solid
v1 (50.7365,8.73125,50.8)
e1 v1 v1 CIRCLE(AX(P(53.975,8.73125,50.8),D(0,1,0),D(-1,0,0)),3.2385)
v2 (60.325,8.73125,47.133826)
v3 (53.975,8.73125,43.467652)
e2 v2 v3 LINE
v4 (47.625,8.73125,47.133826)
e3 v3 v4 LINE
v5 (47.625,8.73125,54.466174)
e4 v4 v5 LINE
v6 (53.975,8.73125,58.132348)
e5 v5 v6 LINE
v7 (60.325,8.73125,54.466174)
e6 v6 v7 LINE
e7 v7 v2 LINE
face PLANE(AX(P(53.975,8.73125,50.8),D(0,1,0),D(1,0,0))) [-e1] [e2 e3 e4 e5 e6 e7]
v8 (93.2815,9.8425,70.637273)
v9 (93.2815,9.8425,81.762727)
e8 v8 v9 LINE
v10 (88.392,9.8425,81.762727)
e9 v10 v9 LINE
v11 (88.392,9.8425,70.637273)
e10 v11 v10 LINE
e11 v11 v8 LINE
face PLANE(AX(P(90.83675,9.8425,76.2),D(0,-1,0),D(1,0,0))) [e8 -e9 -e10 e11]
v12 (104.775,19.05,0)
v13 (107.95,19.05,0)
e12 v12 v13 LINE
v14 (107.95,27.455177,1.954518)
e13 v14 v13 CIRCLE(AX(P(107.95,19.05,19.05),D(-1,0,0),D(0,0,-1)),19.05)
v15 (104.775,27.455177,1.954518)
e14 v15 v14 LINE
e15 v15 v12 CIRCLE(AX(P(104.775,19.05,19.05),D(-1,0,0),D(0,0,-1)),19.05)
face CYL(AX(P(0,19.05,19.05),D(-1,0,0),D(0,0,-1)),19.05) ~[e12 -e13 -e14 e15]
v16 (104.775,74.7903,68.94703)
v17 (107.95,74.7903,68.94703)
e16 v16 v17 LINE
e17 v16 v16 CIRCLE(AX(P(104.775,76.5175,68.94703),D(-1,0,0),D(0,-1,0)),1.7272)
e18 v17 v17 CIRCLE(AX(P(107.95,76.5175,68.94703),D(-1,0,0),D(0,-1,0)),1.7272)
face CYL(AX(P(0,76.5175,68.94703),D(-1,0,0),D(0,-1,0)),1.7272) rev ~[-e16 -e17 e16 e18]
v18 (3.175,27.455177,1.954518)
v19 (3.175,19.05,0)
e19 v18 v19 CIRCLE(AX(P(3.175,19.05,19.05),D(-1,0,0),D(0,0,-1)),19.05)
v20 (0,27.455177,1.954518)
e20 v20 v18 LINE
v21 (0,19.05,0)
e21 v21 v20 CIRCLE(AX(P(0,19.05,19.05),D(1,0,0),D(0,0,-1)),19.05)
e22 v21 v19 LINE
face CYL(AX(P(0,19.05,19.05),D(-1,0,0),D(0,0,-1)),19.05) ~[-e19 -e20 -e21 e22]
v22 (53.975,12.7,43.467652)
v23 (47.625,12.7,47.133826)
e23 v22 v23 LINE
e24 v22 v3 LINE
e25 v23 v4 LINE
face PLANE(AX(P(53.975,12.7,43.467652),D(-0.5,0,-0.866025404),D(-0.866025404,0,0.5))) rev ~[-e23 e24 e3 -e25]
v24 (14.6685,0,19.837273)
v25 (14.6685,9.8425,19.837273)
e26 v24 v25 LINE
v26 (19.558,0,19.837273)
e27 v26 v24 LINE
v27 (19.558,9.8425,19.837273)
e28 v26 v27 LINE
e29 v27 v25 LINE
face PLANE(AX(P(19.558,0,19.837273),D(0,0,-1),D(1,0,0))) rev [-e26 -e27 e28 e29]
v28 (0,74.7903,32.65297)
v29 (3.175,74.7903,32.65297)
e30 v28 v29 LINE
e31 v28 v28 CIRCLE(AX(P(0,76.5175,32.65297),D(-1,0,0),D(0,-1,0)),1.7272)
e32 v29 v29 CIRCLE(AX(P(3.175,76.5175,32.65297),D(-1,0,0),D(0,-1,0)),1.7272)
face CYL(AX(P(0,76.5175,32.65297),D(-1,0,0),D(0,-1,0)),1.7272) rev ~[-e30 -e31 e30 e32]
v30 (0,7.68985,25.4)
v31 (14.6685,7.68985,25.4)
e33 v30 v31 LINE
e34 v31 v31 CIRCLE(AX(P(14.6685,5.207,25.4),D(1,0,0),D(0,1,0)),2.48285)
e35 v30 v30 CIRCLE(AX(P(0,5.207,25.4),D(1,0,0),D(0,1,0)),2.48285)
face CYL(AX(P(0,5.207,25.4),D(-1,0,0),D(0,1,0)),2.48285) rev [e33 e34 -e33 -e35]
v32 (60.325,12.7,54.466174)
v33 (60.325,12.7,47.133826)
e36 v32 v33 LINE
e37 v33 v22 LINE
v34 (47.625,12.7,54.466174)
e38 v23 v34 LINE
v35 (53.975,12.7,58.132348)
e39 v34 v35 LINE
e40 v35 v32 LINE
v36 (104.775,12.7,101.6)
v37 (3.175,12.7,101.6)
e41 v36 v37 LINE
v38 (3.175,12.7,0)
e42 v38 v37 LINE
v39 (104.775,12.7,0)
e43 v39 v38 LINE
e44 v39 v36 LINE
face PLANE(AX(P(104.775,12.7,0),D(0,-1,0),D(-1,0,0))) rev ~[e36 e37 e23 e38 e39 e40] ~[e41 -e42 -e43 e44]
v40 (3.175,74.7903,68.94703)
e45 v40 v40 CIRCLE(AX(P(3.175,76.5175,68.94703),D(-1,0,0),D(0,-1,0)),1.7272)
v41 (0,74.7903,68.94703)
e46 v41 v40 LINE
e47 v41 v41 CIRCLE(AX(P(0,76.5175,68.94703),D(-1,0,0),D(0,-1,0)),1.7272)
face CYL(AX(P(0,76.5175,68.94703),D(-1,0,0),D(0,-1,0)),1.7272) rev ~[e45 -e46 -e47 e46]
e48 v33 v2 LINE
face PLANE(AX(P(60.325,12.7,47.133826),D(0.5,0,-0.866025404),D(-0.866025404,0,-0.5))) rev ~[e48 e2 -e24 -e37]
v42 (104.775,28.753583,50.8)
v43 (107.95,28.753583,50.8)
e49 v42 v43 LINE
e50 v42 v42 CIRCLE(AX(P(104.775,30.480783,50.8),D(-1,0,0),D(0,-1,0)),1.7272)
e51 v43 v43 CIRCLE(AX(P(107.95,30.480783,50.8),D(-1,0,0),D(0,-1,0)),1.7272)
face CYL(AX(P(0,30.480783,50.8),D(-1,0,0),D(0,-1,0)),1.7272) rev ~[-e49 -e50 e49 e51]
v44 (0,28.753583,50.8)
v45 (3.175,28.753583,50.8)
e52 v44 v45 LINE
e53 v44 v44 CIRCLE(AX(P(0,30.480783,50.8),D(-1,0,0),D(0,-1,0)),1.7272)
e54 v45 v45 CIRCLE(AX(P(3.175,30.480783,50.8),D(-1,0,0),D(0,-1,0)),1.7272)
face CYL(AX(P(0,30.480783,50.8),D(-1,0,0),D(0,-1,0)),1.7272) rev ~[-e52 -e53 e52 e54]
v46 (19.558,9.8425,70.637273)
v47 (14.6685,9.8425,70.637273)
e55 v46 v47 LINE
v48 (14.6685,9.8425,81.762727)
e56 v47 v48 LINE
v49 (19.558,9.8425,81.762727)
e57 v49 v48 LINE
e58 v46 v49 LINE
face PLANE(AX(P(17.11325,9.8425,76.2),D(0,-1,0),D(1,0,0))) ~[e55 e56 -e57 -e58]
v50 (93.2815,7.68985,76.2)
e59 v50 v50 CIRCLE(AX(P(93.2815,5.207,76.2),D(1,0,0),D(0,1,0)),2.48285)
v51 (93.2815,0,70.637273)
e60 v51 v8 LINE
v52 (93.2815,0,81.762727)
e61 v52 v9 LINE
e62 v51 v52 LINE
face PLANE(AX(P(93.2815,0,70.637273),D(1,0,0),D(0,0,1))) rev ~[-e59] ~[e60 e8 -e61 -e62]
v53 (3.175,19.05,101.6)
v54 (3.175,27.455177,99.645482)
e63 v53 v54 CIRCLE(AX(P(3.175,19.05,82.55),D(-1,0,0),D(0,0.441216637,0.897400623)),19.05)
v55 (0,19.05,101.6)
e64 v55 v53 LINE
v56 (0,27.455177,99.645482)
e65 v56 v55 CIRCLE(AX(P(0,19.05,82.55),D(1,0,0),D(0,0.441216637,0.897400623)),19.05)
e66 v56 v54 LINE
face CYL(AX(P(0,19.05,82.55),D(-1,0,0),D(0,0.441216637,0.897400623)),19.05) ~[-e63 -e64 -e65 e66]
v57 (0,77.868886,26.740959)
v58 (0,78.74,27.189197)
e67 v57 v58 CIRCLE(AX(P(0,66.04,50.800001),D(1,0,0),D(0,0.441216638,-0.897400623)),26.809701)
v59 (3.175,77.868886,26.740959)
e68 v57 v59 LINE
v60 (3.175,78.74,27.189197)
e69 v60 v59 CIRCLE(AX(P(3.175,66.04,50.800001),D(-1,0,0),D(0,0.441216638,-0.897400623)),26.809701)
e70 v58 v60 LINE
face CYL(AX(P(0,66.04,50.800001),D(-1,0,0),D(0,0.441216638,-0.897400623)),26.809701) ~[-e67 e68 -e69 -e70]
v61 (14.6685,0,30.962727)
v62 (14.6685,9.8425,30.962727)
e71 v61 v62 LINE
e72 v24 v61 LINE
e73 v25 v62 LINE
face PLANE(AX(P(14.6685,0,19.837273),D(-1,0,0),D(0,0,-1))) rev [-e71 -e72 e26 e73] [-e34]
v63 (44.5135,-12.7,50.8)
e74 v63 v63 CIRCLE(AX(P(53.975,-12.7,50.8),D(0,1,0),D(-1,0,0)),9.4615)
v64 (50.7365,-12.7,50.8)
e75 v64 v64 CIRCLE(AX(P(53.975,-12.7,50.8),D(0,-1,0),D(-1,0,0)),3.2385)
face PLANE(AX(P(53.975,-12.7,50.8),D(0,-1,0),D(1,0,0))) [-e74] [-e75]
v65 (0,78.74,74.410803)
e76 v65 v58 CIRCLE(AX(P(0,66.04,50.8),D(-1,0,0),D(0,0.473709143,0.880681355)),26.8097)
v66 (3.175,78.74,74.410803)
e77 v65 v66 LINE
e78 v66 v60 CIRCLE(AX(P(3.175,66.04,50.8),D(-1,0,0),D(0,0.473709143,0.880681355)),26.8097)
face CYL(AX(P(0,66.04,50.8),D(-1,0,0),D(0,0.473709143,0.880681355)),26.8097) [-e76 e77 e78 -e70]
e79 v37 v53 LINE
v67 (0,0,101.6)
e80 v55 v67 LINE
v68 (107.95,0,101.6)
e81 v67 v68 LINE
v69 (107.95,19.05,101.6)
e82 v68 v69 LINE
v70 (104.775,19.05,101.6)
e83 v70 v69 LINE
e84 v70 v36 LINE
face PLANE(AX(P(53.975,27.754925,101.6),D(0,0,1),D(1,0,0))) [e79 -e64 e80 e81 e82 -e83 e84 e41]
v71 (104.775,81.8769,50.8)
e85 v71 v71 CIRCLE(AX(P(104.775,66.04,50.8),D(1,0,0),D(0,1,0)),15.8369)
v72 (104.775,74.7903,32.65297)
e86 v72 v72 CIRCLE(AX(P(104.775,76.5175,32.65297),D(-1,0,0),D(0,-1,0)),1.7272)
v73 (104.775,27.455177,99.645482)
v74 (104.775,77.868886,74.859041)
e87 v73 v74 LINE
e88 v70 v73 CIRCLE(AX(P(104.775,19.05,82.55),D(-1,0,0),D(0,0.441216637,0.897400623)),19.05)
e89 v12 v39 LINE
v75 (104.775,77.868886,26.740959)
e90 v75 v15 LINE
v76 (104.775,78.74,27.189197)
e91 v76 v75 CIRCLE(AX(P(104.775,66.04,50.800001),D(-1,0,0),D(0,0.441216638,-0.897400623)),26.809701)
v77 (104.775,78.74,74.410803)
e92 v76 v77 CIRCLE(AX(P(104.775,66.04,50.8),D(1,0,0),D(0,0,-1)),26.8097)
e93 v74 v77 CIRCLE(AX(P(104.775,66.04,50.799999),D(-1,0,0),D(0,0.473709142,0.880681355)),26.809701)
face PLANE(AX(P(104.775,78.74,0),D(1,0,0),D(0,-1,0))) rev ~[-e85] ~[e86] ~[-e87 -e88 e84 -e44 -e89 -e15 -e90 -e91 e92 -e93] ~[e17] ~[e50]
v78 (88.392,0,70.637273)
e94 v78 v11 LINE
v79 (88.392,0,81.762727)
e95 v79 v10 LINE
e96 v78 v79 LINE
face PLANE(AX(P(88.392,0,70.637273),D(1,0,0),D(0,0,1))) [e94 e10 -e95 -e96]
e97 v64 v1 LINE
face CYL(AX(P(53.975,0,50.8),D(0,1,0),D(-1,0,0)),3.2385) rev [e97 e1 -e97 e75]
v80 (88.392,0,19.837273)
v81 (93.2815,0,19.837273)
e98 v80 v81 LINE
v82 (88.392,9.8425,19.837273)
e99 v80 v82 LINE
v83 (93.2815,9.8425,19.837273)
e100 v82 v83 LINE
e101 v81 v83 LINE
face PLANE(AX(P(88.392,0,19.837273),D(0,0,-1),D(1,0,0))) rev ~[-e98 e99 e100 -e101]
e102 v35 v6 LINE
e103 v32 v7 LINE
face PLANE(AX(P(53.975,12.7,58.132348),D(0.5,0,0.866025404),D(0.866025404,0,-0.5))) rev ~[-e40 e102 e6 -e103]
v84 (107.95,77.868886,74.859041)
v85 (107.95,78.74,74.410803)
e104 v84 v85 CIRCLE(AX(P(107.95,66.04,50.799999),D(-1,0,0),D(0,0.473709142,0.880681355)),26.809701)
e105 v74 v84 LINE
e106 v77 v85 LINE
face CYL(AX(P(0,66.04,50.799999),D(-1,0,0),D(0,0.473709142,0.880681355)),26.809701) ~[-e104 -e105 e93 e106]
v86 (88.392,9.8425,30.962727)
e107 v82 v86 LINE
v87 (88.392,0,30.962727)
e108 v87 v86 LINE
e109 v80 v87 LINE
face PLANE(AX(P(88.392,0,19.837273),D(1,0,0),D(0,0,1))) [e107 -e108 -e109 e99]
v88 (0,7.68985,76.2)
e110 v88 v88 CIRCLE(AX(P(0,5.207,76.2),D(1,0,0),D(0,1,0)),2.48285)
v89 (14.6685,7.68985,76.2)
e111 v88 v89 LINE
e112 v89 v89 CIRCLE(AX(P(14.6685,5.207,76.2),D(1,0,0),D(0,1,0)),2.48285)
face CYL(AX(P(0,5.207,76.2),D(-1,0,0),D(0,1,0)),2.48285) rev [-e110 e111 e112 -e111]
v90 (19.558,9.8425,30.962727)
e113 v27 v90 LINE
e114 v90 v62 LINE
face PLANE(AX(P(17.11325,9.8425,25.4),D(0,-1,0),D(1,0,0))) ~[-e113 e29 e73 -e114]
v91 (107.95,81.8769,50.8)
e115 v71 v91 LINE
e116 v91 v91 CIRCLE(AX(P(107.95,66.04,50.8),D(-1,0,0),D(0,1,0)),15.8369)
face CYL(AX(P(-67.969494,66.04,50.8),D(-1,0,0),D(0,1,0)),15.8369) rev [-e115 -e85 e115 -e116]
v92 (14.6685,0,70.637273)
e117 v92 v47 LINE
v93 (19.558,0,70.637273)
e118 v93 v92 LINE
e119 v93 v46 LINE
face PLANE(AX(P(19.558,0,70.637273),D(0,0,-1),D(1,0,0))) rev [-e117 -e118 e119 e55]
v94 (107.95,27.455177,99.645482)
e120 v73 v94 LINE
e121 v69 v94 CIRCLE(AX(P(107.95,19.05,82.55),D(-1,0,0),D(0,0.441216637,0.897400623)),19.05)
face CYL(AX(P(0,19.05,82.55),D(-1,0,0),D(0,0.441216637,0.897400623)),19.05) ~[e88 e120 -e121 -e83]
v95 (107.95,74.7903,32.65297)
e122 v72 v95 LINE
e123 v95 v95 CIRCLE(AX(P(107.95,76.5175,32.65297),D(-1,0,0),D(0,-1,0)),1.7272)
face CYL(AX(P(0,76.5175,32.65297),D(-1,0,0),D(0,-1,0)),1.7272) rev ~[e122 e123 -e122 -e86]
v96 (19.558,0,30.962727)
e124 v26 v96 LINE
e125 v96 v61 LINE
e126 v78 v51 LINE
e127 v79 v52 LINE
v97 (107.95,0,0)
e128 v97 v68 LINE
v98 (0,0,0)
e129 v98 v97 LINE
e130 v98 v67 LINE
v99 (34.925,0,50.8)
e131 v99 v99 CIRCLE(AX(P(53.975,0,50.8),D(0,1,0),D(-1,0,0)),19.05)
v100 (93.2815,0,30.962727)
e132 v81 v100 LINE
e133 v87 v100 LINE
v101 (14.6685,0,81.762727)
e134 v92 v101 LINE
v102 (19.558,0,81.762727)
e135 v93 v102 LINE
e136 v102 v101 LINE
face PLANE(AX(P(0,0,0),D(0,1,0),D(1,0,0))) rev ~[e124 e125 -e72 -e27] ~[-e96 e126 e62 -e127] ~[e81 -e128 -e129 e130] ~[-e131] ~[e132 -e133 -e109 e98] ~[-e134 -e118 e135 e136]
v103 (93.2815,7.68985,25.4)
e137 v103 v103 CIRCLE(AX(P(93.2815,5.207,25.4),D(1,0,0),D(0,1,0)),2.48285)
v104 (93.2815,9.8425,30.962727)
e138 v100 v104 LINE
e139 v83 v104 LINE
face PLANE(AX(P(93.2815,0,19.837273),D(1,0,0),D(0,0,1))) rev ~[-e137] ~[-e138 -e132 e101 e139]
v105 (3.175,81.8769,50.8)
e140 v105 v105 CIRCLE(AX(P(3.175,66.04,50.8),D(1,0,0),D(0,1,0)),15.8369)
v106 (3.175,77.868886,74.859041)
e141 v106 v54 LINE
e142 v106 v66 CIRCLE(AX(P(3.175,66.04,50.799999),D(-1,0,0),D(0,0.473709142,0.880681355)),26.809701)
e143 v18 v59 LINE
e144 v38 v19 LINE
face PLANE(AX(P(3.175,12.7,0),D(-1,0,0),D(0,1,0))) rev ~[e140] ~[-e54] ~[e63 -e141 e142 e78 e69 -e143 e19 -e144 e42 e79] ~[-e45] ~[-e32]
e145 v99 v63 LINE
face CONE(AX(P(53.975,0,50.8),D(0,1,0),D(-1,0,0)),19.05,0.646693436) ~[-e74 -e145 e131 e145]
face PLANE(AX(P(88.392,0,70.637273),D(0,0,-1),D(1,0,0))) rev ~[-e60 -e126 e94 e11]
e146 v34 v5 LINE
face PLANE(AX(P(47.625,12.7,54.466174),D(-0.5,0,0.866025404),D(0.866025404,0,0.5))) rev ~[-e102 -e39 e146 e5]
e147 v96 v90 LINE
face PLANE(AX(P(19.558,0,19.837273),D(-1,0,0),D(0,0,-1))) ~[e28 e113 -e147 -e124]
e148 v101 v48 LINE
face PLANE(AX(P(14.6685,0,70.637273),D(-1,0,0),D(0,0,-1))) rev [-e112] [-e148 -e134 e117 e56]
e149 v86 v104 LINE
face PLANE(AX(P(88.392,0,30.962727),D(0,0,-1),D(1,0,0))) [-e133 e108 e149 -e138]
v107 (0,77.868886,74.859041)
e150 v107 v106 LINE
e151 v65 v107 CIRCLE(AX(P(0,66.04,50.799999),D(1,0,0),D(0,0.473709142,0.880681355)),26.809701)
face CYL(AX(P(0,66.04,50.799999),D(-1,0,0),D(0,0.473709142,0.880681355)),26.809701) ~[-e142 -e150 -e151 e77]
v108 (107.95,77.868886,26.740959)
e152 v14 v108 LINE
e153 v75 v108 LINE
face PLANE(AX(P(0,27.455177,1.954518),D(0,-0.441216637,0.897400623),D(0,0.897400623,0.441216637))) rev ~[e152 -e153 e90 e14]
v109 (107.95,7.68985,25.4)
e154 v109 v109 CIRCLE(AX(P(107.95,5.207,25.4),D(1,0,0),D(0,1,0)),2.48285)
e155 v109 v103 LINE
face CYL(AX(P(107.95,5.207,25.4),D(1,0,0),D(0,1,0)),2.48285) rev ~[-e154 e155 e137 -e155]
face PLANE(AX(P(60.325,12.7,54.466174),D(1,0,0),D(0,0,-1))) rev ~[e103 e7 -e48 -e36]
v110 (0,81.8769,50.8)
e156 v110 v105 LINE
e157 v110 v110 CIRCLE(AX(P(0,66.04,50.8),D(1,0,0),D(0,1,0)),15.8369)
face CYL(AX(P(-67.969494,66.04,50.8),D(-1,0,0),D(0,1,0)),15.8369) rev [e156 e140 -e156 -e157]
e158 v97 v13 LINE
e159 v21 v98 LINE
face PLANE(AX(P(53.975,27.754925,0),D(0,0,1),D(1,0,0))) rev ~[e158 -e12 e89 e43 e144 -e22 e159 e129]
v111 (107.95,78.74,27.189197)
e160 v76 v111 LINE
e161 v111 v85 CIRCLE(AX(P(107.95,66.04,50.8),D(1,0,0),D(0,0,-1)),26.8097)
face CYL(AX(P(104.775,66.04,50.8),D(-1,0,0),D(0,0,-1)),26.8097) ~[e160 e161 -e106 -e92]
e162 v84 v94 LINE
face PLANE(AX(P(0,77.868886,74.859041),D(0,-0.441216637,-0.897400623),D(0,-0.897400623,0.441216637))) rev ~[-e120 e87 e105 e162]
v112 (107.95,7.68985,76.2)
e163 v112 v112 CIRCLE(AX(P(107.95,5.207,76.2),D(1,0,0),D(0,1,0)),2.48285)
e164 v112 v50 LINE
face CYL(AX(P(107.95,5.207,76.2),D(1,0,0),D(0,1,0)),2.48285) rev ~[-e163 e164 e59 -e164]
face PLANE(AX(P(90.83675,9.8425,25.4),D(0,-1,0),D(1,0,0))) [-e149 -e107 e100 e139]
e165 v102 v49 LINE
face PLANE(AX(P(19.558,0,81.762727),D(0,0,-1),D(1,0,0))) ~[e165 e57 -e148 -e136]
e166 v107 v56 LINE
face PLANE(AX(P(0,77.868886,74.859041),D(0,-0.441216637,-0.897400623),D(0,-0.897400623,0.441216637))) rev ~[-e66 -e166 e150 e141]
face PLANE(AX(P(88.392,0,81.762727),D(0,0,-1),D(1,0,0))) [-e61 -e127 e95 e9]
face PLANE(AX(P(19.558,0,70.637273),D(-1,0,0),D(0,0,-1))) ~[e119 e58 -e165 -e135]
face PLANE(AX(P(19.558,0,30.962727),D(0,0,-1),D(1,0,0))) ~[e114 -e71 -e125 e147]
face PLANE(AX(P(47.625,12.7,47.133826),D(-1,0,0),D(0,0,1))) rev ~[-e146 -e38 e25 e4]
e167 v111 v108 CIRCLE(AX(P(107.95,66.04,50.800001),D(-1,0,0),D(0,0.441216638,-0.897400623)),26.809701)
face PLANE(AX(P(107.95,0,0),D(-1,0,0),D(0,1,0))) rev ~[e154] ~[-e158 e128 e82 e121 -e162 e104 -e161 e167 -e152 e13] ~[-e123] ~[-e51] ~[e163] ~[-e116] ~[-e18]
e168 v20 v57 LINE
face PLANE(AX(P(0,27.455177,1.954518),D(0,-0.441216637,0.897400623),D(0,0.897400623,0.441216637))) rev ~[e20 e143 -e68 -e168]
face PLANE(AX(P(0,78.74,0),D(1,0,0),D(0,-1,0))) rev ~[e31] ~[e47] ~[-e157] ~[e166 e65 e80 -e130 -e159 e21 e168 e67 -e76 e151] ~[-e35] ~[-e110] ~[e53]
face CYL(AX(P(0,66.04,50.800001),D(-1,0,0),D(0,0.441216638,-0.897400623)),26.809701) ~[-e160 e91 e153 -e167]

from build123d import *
from build123d.topology import SkipClean

# Parameters (mm, degrees)
BOSS_EXTRUDE1_DEPTH               = 101.6
SKETCH3_R                         = 5.87375
CUT_EXTRUDE1_DEPTH                = 168.856337682
BOSS_EXTRUDE3_DEPTH               = 3.175
CUT_EXTRUDE2_DEPTH                = 3.96875
SKETCH5_R                         = 3.2385
CUT_EXTRUDE3_DEPTH                = 171.445522471
BOSS_EXTRUDE4_START               = -3.175
SKETCH7_R                         = 26.8097
SKETCH7_R_2                       = 5.87375
BOSS_EXTRUDE4_DEPTH               = 3.175
SKETCH6_R                         = 1.7272
CUT_EXTRUDE4_DEPTH                = 175.91949374
SKETCH8_W                         = 12.7
SKETCH8_H                         = 12.7
SKETCH8_R                         = 3.2385
BOSS_EXTRUDE5_DEPTH               = 12.7
CUT_EXTRUDE5_DEPTH                = 175.91949374
CUT_EXTRUDE5_DEPTH_BACK           = 175.91949374
SKETCH10_R                        = 15.8369
SKETCH13_W                        = 4.8895
SKETCH13_H                        = 11.125454
CUT_EXTRUDE7_DEPTH                = 9.8425
F_10_0_1935_DIAMETER_HOLE1_REACH  = 160.559
F_10_0_1935_DIAMETER_HOLE1_BORE_R = 2.48285


with BuildPart() as part:
    # Sketch2 → Boss-Extrude1 (new body)
    with BuildSketch(Plane.XY):
        Polygon((0, 78.74), (0, 0), (107.95, 0), (107.95, 78.74), (104.775, 78.74), (104.775, 12.7), (3.175, 12.7), (3.175, 78.74), align=None)
    extrude(amount=BOSS_EXTRUDE1_DEPTH)

    # Sketch3 → Cut-Extrude1 (cut, through all)
    with BuildSketch(Plane.ZY):
        with BuildLine():
            ThreePointArc((0, 19.05), (0.495062251, 23.364717272), (1.954518124, 27.455176943))
            Line((1.954518124, 27.455176943), (26.740958507, 77.868885684))
            ThreePointArc((26.740958507, 77.868885684), (26.961098465, 78.306490439), (27.189197089, 78.74))
            Line((27.189197089, 78.74), (0, 78.74))
            Line((0, 78.74), (0, 19.05))
        make_face()
        with BuildLine():
            Line((101.6, 78.74), (74.410802911, 78.74))
            ThreePointArc((74.410802911, 78.74), (74.638901535, 78.306490439), (74.859041493, 77.868885684))
            Line((74.859041493, 77.868885684), (99.645481876, 27.455176943))
            ThreePointArc((99.645481876, 27.455176943), (101.104937749, 23.364717272), (101.6, 19.05))
            Line((101.6, 19.05), (101.6, 78.74))
        make_face()
        with Locations(Location((50.8, 66.04, 0), (0, 0, 270))):
            Circle(SKETCH3_R)
    extrude(amount=-CUT_EXTRUDE1_DEPTH, mode=Mode.SUBTRACT)

    # Sketch3<4> → Boss-Extrude3 (add)
    with SkipClean():  # the faces are left unmerged after this step: merging them gives an invalid solid
        with BuildSketch(Plane.ZY):
            with BuildLine():
                ThreePointArc((74.410802911, 78.74), (50.8, 92.8497), (27.189197089, 78.74))
                Line((27.189197089, 78.74), (74.410802911, 78.74))
            make_face()
        extrude(amount=-BOSS_EXTRUDE3_DEPTH)

    # Sketch4 → Cut-Extrude2 (cut)
    with SkipClean():  # the faces are left unmerged after this step: merging them gives an invalid solid
        with BuildSketch(Plane(origin=(0, 12.7, 0), x_dir=(1, 0, 0), z_dir=(0, 1, 0))):
            Polygon((60.325, -47.133825791), (53.975, -43.467651581), (47.625, -47.133825791), (47.625, -54.466174209), (53.975, -58.132348419), (60.325, -54.466174209), align=None)
        extrude(amount=-CUT_EXTRUDE2_DEPTH, mode=Mode.SUBTRACT)

    # Sketch5 → Cut-Extrude3 (cut, through all)
    with SkipClean():  # the faces are left unmerged after this step: merging them gives an invalid solid
        with BuildSketch(Plane(origin=(0, 8.73125, 0), x_dir=(1, 0, 0), z_dir=(0, 1, 0))):
            with Locations(Location((53.975, -50.8, 0), (0, 0, 180))):
                Circle(SKETCH5_R)
        extrude(amount=-CUT_EXTRUDE3_DEPTH, mode=Mode.SUBTRACT)

    # Sketch7 → Boss-Extrude4 (add)
    with SkipClean():  # the faces are left unmerged after this step: merging them gives an invalid solid
        with BuildSketch(Plane(origin=(107.95, 0, 0), x_dir=(0, 0, -1), z_dir=(1, 0, 0)).offset(BOSS_EXTRUDE4_START)):
            with Locations((-50.8, 66.04)):
                Circle(SKETCH7_R)
            with Locations(Location((-50.8, 66.04, 0), (0, 0, 270))):
                Circle(SKETCH7_R_2, mode=Mode.SUBTRACT)
        extrude(amount=BOSS_EXTRUDE4_DEPTH)

    # Sketch6 → Cut-Extrude4 (cut, through all)
    with SkipClean():  # the faces are left unmerged after this step: merging them gives an invalid solid
        with BuildSketch(Plane.ZY):
            with Locations(Location((32.65297, 76.5175, 0), (0, 0, 270))):
                Circle(SKETCH6_R)
            with Locations(Location((68.94703, 76.5175, 0), (0, 0, 270))):
                Circle(SKETCH6_R)
            with Locations(Location((50.8, 30.480783465, 0), (0, 0, 270))):
                Circle(SKETCH6_R)
        extrude(amount=-CUT_EXTRUDE4_DEPTH, mode=Mode.SUBTRACT)

    # Sketch8 → Boss-Extrude5 (add)
    with SkipClean():  # the faces are left unmerged after this step: merging them gives an invalid solid
        with BuildSketch(Plane.XZ):
            with Locations((53.975, 50.8)):
                Rectangle(SKETCH8_W, SKETCH8_H)
            with Locations(Location((53.975, 50.8, 0), (0, 0, 180))):
                Circle(SKETCH8_R, mode=Mode.SUBTRACT)
        extrude(amount=BOSS_EXTRUDE5_DEPTH)

    # Sketch9 → Revolve1 (revolve)
    with SkipClean():  # the faces are left unmerged after this step: merging them gives an invalid solid
        with BuildSketch(Plane.ZY.offset(-53.975), mode=Mode.PRIVATE) as revolve1_sk:
            Polygon((44.45, -12.7), (44.45, 0), (31.75, 0), (41.3385, -12.7), align=None)
        revolve(revolve1_sk.sketch.rotate(Axis((53.975, -12.7, 50.8), (0, 1, 0)), 90), axis=Axis((53.975, -12.7, 50.8), (0, 1, 0)))

    # Sketch10 → Cut-Extrude5 (cut, two sides: drawn at the far end of the back side and taken through both)
    with SkipClean():  # the faces are left unmerged after this step: merging them gives an invalid solid
        with BuildSketch(Plane(origin=(107.95, 0, 0), x_dir=(0, 0, -1), z_dir=(1, 0, 0)).offset(-CUT_EXTRUDE5_DEPTH_BACK)):
            with Locations(Location((-50.8, 66.04, 0), (0, 0, 90))):
                Circle(SKETCH10_R)
        extrude(amount=CUT_EXTRUDE5_DEPTH + CUT_EXTRUDE5_DEPTH_BACK, mode=Mode.SUBTRACT)

    # Sketch13 → Cut-Extrude7 (cut)
    with SkipClean():  # the faces are left unmerged after this step: merging them gives an invalid solid
        with BuildSketch(Plane.XZ):
            with Locations((90.83675, 76.2)):
                Rectangle(SKETCH13_W, SKETCH13_H)
            with Locations((90.83675, 25.4)):
                Rectangle(SKETCH13_W, SKETCH13_H)
        cut_extrude7 = extrude(amount=-CUT_EXTRUDE7_DEPTH, mode=Mode.SUBTRACT)

    # #10 (0.1935) Diameter Hole1 bore (on position points) → #10 (0.1935) Diameter Hole1 (cut, up to next)
    with BuildSketch(Plane(origin=(107.95, 5.207, 76.2), x_dir=(0, 1, 0), z_dir=(1, 0, 0)), mode=Mode.PRIVATE) as f_10_0_1935_diameter_hole1_sk1:
        Circle(F_10_0_1935_DIAMETER_HOLE1_BORE_R)
    f_10_0_1935_diameter_hole1_tool1 = extrude(f_10_0_1935_diameter_hole1_sk1.sketch, amount=-F_10_0_1935_DIAMETER_HOLE1_REACH, mode=Mode.PRIVATE) & part.part
    # #10 (0.1935) Diameter Hole1 bore (on position points) → #10 (0.1935) Diameter Hole1 (cut, up to next)
    with BuildSketch(Plane(origin=(107.95, 5.207, 76.2), x_dir=(0, 1, 0), z_dir=(1, 0, 0)), mode=Mode.PRIVATE) as f_10_0_1935_diameter_hole1_sk2:
        with Locations((0, -50.8)):
            Circle(F_10_0_1935_DIAMETER_HOLE1_BORE_R)
    f_10_0_1935_diameter_hole1_tool2 = extrude(f_10_0_1935_diameter_hole1_sk2.sketch, amount=-F_10_0_1935_DIAMETER_HOLE1_REACH, mode=Mode.PRIVATE) & part.part
    f_10_0_1935_diameter_hole1_1 = f_10_0_1935_diameter_hole1_tool1.solids().sort_by_distance((107.95, 5.207, 76.2))[0]
    add(f_10_0_1935_diameter_hole1_1, mode=Mode.SUBTRACT)
    f_10_0_1935_diameter_hole1_2 = f_10_0_1935_diameter_hole1_tool2.solids().sort_by_distance((107.95, 5.207, 25.4))[0]
    add(f_10_0_1935_diameter_hole1_2, mode=Mode.SUBTRACT)
    f_10_0_1935_diameter_hole1 = f_10_0_1935_diameter_hole1_1 + f_10_0_1935_diameter_hole1_2  # #10 (0.1935) Diameter Hole1 as one shape, for the pattern or mirror that repeats it

    # Mirror2: Cut-Extrude7, #10 (0.1935) Diameter Hole1 across plane
    with SkipClean():  # the faces are left unmerged after this step: merging them gives an invalid solid
        add(cut_extrude7.mirror(Plane(origin=(53.975, 0, 0), x_dir=(0, 0, 1), z_dir=(1, 0, 0))), mode=Mode.SUBTRACT)
        add(f_10_0_1935_diameter_hole1.mirror(Plane(origin=(53.975, 0, 0), x_dir=(0, 0, 1), z_dir=(1, 0, 0))), mode=Mode.SUBTRACT)


solid = part.part
